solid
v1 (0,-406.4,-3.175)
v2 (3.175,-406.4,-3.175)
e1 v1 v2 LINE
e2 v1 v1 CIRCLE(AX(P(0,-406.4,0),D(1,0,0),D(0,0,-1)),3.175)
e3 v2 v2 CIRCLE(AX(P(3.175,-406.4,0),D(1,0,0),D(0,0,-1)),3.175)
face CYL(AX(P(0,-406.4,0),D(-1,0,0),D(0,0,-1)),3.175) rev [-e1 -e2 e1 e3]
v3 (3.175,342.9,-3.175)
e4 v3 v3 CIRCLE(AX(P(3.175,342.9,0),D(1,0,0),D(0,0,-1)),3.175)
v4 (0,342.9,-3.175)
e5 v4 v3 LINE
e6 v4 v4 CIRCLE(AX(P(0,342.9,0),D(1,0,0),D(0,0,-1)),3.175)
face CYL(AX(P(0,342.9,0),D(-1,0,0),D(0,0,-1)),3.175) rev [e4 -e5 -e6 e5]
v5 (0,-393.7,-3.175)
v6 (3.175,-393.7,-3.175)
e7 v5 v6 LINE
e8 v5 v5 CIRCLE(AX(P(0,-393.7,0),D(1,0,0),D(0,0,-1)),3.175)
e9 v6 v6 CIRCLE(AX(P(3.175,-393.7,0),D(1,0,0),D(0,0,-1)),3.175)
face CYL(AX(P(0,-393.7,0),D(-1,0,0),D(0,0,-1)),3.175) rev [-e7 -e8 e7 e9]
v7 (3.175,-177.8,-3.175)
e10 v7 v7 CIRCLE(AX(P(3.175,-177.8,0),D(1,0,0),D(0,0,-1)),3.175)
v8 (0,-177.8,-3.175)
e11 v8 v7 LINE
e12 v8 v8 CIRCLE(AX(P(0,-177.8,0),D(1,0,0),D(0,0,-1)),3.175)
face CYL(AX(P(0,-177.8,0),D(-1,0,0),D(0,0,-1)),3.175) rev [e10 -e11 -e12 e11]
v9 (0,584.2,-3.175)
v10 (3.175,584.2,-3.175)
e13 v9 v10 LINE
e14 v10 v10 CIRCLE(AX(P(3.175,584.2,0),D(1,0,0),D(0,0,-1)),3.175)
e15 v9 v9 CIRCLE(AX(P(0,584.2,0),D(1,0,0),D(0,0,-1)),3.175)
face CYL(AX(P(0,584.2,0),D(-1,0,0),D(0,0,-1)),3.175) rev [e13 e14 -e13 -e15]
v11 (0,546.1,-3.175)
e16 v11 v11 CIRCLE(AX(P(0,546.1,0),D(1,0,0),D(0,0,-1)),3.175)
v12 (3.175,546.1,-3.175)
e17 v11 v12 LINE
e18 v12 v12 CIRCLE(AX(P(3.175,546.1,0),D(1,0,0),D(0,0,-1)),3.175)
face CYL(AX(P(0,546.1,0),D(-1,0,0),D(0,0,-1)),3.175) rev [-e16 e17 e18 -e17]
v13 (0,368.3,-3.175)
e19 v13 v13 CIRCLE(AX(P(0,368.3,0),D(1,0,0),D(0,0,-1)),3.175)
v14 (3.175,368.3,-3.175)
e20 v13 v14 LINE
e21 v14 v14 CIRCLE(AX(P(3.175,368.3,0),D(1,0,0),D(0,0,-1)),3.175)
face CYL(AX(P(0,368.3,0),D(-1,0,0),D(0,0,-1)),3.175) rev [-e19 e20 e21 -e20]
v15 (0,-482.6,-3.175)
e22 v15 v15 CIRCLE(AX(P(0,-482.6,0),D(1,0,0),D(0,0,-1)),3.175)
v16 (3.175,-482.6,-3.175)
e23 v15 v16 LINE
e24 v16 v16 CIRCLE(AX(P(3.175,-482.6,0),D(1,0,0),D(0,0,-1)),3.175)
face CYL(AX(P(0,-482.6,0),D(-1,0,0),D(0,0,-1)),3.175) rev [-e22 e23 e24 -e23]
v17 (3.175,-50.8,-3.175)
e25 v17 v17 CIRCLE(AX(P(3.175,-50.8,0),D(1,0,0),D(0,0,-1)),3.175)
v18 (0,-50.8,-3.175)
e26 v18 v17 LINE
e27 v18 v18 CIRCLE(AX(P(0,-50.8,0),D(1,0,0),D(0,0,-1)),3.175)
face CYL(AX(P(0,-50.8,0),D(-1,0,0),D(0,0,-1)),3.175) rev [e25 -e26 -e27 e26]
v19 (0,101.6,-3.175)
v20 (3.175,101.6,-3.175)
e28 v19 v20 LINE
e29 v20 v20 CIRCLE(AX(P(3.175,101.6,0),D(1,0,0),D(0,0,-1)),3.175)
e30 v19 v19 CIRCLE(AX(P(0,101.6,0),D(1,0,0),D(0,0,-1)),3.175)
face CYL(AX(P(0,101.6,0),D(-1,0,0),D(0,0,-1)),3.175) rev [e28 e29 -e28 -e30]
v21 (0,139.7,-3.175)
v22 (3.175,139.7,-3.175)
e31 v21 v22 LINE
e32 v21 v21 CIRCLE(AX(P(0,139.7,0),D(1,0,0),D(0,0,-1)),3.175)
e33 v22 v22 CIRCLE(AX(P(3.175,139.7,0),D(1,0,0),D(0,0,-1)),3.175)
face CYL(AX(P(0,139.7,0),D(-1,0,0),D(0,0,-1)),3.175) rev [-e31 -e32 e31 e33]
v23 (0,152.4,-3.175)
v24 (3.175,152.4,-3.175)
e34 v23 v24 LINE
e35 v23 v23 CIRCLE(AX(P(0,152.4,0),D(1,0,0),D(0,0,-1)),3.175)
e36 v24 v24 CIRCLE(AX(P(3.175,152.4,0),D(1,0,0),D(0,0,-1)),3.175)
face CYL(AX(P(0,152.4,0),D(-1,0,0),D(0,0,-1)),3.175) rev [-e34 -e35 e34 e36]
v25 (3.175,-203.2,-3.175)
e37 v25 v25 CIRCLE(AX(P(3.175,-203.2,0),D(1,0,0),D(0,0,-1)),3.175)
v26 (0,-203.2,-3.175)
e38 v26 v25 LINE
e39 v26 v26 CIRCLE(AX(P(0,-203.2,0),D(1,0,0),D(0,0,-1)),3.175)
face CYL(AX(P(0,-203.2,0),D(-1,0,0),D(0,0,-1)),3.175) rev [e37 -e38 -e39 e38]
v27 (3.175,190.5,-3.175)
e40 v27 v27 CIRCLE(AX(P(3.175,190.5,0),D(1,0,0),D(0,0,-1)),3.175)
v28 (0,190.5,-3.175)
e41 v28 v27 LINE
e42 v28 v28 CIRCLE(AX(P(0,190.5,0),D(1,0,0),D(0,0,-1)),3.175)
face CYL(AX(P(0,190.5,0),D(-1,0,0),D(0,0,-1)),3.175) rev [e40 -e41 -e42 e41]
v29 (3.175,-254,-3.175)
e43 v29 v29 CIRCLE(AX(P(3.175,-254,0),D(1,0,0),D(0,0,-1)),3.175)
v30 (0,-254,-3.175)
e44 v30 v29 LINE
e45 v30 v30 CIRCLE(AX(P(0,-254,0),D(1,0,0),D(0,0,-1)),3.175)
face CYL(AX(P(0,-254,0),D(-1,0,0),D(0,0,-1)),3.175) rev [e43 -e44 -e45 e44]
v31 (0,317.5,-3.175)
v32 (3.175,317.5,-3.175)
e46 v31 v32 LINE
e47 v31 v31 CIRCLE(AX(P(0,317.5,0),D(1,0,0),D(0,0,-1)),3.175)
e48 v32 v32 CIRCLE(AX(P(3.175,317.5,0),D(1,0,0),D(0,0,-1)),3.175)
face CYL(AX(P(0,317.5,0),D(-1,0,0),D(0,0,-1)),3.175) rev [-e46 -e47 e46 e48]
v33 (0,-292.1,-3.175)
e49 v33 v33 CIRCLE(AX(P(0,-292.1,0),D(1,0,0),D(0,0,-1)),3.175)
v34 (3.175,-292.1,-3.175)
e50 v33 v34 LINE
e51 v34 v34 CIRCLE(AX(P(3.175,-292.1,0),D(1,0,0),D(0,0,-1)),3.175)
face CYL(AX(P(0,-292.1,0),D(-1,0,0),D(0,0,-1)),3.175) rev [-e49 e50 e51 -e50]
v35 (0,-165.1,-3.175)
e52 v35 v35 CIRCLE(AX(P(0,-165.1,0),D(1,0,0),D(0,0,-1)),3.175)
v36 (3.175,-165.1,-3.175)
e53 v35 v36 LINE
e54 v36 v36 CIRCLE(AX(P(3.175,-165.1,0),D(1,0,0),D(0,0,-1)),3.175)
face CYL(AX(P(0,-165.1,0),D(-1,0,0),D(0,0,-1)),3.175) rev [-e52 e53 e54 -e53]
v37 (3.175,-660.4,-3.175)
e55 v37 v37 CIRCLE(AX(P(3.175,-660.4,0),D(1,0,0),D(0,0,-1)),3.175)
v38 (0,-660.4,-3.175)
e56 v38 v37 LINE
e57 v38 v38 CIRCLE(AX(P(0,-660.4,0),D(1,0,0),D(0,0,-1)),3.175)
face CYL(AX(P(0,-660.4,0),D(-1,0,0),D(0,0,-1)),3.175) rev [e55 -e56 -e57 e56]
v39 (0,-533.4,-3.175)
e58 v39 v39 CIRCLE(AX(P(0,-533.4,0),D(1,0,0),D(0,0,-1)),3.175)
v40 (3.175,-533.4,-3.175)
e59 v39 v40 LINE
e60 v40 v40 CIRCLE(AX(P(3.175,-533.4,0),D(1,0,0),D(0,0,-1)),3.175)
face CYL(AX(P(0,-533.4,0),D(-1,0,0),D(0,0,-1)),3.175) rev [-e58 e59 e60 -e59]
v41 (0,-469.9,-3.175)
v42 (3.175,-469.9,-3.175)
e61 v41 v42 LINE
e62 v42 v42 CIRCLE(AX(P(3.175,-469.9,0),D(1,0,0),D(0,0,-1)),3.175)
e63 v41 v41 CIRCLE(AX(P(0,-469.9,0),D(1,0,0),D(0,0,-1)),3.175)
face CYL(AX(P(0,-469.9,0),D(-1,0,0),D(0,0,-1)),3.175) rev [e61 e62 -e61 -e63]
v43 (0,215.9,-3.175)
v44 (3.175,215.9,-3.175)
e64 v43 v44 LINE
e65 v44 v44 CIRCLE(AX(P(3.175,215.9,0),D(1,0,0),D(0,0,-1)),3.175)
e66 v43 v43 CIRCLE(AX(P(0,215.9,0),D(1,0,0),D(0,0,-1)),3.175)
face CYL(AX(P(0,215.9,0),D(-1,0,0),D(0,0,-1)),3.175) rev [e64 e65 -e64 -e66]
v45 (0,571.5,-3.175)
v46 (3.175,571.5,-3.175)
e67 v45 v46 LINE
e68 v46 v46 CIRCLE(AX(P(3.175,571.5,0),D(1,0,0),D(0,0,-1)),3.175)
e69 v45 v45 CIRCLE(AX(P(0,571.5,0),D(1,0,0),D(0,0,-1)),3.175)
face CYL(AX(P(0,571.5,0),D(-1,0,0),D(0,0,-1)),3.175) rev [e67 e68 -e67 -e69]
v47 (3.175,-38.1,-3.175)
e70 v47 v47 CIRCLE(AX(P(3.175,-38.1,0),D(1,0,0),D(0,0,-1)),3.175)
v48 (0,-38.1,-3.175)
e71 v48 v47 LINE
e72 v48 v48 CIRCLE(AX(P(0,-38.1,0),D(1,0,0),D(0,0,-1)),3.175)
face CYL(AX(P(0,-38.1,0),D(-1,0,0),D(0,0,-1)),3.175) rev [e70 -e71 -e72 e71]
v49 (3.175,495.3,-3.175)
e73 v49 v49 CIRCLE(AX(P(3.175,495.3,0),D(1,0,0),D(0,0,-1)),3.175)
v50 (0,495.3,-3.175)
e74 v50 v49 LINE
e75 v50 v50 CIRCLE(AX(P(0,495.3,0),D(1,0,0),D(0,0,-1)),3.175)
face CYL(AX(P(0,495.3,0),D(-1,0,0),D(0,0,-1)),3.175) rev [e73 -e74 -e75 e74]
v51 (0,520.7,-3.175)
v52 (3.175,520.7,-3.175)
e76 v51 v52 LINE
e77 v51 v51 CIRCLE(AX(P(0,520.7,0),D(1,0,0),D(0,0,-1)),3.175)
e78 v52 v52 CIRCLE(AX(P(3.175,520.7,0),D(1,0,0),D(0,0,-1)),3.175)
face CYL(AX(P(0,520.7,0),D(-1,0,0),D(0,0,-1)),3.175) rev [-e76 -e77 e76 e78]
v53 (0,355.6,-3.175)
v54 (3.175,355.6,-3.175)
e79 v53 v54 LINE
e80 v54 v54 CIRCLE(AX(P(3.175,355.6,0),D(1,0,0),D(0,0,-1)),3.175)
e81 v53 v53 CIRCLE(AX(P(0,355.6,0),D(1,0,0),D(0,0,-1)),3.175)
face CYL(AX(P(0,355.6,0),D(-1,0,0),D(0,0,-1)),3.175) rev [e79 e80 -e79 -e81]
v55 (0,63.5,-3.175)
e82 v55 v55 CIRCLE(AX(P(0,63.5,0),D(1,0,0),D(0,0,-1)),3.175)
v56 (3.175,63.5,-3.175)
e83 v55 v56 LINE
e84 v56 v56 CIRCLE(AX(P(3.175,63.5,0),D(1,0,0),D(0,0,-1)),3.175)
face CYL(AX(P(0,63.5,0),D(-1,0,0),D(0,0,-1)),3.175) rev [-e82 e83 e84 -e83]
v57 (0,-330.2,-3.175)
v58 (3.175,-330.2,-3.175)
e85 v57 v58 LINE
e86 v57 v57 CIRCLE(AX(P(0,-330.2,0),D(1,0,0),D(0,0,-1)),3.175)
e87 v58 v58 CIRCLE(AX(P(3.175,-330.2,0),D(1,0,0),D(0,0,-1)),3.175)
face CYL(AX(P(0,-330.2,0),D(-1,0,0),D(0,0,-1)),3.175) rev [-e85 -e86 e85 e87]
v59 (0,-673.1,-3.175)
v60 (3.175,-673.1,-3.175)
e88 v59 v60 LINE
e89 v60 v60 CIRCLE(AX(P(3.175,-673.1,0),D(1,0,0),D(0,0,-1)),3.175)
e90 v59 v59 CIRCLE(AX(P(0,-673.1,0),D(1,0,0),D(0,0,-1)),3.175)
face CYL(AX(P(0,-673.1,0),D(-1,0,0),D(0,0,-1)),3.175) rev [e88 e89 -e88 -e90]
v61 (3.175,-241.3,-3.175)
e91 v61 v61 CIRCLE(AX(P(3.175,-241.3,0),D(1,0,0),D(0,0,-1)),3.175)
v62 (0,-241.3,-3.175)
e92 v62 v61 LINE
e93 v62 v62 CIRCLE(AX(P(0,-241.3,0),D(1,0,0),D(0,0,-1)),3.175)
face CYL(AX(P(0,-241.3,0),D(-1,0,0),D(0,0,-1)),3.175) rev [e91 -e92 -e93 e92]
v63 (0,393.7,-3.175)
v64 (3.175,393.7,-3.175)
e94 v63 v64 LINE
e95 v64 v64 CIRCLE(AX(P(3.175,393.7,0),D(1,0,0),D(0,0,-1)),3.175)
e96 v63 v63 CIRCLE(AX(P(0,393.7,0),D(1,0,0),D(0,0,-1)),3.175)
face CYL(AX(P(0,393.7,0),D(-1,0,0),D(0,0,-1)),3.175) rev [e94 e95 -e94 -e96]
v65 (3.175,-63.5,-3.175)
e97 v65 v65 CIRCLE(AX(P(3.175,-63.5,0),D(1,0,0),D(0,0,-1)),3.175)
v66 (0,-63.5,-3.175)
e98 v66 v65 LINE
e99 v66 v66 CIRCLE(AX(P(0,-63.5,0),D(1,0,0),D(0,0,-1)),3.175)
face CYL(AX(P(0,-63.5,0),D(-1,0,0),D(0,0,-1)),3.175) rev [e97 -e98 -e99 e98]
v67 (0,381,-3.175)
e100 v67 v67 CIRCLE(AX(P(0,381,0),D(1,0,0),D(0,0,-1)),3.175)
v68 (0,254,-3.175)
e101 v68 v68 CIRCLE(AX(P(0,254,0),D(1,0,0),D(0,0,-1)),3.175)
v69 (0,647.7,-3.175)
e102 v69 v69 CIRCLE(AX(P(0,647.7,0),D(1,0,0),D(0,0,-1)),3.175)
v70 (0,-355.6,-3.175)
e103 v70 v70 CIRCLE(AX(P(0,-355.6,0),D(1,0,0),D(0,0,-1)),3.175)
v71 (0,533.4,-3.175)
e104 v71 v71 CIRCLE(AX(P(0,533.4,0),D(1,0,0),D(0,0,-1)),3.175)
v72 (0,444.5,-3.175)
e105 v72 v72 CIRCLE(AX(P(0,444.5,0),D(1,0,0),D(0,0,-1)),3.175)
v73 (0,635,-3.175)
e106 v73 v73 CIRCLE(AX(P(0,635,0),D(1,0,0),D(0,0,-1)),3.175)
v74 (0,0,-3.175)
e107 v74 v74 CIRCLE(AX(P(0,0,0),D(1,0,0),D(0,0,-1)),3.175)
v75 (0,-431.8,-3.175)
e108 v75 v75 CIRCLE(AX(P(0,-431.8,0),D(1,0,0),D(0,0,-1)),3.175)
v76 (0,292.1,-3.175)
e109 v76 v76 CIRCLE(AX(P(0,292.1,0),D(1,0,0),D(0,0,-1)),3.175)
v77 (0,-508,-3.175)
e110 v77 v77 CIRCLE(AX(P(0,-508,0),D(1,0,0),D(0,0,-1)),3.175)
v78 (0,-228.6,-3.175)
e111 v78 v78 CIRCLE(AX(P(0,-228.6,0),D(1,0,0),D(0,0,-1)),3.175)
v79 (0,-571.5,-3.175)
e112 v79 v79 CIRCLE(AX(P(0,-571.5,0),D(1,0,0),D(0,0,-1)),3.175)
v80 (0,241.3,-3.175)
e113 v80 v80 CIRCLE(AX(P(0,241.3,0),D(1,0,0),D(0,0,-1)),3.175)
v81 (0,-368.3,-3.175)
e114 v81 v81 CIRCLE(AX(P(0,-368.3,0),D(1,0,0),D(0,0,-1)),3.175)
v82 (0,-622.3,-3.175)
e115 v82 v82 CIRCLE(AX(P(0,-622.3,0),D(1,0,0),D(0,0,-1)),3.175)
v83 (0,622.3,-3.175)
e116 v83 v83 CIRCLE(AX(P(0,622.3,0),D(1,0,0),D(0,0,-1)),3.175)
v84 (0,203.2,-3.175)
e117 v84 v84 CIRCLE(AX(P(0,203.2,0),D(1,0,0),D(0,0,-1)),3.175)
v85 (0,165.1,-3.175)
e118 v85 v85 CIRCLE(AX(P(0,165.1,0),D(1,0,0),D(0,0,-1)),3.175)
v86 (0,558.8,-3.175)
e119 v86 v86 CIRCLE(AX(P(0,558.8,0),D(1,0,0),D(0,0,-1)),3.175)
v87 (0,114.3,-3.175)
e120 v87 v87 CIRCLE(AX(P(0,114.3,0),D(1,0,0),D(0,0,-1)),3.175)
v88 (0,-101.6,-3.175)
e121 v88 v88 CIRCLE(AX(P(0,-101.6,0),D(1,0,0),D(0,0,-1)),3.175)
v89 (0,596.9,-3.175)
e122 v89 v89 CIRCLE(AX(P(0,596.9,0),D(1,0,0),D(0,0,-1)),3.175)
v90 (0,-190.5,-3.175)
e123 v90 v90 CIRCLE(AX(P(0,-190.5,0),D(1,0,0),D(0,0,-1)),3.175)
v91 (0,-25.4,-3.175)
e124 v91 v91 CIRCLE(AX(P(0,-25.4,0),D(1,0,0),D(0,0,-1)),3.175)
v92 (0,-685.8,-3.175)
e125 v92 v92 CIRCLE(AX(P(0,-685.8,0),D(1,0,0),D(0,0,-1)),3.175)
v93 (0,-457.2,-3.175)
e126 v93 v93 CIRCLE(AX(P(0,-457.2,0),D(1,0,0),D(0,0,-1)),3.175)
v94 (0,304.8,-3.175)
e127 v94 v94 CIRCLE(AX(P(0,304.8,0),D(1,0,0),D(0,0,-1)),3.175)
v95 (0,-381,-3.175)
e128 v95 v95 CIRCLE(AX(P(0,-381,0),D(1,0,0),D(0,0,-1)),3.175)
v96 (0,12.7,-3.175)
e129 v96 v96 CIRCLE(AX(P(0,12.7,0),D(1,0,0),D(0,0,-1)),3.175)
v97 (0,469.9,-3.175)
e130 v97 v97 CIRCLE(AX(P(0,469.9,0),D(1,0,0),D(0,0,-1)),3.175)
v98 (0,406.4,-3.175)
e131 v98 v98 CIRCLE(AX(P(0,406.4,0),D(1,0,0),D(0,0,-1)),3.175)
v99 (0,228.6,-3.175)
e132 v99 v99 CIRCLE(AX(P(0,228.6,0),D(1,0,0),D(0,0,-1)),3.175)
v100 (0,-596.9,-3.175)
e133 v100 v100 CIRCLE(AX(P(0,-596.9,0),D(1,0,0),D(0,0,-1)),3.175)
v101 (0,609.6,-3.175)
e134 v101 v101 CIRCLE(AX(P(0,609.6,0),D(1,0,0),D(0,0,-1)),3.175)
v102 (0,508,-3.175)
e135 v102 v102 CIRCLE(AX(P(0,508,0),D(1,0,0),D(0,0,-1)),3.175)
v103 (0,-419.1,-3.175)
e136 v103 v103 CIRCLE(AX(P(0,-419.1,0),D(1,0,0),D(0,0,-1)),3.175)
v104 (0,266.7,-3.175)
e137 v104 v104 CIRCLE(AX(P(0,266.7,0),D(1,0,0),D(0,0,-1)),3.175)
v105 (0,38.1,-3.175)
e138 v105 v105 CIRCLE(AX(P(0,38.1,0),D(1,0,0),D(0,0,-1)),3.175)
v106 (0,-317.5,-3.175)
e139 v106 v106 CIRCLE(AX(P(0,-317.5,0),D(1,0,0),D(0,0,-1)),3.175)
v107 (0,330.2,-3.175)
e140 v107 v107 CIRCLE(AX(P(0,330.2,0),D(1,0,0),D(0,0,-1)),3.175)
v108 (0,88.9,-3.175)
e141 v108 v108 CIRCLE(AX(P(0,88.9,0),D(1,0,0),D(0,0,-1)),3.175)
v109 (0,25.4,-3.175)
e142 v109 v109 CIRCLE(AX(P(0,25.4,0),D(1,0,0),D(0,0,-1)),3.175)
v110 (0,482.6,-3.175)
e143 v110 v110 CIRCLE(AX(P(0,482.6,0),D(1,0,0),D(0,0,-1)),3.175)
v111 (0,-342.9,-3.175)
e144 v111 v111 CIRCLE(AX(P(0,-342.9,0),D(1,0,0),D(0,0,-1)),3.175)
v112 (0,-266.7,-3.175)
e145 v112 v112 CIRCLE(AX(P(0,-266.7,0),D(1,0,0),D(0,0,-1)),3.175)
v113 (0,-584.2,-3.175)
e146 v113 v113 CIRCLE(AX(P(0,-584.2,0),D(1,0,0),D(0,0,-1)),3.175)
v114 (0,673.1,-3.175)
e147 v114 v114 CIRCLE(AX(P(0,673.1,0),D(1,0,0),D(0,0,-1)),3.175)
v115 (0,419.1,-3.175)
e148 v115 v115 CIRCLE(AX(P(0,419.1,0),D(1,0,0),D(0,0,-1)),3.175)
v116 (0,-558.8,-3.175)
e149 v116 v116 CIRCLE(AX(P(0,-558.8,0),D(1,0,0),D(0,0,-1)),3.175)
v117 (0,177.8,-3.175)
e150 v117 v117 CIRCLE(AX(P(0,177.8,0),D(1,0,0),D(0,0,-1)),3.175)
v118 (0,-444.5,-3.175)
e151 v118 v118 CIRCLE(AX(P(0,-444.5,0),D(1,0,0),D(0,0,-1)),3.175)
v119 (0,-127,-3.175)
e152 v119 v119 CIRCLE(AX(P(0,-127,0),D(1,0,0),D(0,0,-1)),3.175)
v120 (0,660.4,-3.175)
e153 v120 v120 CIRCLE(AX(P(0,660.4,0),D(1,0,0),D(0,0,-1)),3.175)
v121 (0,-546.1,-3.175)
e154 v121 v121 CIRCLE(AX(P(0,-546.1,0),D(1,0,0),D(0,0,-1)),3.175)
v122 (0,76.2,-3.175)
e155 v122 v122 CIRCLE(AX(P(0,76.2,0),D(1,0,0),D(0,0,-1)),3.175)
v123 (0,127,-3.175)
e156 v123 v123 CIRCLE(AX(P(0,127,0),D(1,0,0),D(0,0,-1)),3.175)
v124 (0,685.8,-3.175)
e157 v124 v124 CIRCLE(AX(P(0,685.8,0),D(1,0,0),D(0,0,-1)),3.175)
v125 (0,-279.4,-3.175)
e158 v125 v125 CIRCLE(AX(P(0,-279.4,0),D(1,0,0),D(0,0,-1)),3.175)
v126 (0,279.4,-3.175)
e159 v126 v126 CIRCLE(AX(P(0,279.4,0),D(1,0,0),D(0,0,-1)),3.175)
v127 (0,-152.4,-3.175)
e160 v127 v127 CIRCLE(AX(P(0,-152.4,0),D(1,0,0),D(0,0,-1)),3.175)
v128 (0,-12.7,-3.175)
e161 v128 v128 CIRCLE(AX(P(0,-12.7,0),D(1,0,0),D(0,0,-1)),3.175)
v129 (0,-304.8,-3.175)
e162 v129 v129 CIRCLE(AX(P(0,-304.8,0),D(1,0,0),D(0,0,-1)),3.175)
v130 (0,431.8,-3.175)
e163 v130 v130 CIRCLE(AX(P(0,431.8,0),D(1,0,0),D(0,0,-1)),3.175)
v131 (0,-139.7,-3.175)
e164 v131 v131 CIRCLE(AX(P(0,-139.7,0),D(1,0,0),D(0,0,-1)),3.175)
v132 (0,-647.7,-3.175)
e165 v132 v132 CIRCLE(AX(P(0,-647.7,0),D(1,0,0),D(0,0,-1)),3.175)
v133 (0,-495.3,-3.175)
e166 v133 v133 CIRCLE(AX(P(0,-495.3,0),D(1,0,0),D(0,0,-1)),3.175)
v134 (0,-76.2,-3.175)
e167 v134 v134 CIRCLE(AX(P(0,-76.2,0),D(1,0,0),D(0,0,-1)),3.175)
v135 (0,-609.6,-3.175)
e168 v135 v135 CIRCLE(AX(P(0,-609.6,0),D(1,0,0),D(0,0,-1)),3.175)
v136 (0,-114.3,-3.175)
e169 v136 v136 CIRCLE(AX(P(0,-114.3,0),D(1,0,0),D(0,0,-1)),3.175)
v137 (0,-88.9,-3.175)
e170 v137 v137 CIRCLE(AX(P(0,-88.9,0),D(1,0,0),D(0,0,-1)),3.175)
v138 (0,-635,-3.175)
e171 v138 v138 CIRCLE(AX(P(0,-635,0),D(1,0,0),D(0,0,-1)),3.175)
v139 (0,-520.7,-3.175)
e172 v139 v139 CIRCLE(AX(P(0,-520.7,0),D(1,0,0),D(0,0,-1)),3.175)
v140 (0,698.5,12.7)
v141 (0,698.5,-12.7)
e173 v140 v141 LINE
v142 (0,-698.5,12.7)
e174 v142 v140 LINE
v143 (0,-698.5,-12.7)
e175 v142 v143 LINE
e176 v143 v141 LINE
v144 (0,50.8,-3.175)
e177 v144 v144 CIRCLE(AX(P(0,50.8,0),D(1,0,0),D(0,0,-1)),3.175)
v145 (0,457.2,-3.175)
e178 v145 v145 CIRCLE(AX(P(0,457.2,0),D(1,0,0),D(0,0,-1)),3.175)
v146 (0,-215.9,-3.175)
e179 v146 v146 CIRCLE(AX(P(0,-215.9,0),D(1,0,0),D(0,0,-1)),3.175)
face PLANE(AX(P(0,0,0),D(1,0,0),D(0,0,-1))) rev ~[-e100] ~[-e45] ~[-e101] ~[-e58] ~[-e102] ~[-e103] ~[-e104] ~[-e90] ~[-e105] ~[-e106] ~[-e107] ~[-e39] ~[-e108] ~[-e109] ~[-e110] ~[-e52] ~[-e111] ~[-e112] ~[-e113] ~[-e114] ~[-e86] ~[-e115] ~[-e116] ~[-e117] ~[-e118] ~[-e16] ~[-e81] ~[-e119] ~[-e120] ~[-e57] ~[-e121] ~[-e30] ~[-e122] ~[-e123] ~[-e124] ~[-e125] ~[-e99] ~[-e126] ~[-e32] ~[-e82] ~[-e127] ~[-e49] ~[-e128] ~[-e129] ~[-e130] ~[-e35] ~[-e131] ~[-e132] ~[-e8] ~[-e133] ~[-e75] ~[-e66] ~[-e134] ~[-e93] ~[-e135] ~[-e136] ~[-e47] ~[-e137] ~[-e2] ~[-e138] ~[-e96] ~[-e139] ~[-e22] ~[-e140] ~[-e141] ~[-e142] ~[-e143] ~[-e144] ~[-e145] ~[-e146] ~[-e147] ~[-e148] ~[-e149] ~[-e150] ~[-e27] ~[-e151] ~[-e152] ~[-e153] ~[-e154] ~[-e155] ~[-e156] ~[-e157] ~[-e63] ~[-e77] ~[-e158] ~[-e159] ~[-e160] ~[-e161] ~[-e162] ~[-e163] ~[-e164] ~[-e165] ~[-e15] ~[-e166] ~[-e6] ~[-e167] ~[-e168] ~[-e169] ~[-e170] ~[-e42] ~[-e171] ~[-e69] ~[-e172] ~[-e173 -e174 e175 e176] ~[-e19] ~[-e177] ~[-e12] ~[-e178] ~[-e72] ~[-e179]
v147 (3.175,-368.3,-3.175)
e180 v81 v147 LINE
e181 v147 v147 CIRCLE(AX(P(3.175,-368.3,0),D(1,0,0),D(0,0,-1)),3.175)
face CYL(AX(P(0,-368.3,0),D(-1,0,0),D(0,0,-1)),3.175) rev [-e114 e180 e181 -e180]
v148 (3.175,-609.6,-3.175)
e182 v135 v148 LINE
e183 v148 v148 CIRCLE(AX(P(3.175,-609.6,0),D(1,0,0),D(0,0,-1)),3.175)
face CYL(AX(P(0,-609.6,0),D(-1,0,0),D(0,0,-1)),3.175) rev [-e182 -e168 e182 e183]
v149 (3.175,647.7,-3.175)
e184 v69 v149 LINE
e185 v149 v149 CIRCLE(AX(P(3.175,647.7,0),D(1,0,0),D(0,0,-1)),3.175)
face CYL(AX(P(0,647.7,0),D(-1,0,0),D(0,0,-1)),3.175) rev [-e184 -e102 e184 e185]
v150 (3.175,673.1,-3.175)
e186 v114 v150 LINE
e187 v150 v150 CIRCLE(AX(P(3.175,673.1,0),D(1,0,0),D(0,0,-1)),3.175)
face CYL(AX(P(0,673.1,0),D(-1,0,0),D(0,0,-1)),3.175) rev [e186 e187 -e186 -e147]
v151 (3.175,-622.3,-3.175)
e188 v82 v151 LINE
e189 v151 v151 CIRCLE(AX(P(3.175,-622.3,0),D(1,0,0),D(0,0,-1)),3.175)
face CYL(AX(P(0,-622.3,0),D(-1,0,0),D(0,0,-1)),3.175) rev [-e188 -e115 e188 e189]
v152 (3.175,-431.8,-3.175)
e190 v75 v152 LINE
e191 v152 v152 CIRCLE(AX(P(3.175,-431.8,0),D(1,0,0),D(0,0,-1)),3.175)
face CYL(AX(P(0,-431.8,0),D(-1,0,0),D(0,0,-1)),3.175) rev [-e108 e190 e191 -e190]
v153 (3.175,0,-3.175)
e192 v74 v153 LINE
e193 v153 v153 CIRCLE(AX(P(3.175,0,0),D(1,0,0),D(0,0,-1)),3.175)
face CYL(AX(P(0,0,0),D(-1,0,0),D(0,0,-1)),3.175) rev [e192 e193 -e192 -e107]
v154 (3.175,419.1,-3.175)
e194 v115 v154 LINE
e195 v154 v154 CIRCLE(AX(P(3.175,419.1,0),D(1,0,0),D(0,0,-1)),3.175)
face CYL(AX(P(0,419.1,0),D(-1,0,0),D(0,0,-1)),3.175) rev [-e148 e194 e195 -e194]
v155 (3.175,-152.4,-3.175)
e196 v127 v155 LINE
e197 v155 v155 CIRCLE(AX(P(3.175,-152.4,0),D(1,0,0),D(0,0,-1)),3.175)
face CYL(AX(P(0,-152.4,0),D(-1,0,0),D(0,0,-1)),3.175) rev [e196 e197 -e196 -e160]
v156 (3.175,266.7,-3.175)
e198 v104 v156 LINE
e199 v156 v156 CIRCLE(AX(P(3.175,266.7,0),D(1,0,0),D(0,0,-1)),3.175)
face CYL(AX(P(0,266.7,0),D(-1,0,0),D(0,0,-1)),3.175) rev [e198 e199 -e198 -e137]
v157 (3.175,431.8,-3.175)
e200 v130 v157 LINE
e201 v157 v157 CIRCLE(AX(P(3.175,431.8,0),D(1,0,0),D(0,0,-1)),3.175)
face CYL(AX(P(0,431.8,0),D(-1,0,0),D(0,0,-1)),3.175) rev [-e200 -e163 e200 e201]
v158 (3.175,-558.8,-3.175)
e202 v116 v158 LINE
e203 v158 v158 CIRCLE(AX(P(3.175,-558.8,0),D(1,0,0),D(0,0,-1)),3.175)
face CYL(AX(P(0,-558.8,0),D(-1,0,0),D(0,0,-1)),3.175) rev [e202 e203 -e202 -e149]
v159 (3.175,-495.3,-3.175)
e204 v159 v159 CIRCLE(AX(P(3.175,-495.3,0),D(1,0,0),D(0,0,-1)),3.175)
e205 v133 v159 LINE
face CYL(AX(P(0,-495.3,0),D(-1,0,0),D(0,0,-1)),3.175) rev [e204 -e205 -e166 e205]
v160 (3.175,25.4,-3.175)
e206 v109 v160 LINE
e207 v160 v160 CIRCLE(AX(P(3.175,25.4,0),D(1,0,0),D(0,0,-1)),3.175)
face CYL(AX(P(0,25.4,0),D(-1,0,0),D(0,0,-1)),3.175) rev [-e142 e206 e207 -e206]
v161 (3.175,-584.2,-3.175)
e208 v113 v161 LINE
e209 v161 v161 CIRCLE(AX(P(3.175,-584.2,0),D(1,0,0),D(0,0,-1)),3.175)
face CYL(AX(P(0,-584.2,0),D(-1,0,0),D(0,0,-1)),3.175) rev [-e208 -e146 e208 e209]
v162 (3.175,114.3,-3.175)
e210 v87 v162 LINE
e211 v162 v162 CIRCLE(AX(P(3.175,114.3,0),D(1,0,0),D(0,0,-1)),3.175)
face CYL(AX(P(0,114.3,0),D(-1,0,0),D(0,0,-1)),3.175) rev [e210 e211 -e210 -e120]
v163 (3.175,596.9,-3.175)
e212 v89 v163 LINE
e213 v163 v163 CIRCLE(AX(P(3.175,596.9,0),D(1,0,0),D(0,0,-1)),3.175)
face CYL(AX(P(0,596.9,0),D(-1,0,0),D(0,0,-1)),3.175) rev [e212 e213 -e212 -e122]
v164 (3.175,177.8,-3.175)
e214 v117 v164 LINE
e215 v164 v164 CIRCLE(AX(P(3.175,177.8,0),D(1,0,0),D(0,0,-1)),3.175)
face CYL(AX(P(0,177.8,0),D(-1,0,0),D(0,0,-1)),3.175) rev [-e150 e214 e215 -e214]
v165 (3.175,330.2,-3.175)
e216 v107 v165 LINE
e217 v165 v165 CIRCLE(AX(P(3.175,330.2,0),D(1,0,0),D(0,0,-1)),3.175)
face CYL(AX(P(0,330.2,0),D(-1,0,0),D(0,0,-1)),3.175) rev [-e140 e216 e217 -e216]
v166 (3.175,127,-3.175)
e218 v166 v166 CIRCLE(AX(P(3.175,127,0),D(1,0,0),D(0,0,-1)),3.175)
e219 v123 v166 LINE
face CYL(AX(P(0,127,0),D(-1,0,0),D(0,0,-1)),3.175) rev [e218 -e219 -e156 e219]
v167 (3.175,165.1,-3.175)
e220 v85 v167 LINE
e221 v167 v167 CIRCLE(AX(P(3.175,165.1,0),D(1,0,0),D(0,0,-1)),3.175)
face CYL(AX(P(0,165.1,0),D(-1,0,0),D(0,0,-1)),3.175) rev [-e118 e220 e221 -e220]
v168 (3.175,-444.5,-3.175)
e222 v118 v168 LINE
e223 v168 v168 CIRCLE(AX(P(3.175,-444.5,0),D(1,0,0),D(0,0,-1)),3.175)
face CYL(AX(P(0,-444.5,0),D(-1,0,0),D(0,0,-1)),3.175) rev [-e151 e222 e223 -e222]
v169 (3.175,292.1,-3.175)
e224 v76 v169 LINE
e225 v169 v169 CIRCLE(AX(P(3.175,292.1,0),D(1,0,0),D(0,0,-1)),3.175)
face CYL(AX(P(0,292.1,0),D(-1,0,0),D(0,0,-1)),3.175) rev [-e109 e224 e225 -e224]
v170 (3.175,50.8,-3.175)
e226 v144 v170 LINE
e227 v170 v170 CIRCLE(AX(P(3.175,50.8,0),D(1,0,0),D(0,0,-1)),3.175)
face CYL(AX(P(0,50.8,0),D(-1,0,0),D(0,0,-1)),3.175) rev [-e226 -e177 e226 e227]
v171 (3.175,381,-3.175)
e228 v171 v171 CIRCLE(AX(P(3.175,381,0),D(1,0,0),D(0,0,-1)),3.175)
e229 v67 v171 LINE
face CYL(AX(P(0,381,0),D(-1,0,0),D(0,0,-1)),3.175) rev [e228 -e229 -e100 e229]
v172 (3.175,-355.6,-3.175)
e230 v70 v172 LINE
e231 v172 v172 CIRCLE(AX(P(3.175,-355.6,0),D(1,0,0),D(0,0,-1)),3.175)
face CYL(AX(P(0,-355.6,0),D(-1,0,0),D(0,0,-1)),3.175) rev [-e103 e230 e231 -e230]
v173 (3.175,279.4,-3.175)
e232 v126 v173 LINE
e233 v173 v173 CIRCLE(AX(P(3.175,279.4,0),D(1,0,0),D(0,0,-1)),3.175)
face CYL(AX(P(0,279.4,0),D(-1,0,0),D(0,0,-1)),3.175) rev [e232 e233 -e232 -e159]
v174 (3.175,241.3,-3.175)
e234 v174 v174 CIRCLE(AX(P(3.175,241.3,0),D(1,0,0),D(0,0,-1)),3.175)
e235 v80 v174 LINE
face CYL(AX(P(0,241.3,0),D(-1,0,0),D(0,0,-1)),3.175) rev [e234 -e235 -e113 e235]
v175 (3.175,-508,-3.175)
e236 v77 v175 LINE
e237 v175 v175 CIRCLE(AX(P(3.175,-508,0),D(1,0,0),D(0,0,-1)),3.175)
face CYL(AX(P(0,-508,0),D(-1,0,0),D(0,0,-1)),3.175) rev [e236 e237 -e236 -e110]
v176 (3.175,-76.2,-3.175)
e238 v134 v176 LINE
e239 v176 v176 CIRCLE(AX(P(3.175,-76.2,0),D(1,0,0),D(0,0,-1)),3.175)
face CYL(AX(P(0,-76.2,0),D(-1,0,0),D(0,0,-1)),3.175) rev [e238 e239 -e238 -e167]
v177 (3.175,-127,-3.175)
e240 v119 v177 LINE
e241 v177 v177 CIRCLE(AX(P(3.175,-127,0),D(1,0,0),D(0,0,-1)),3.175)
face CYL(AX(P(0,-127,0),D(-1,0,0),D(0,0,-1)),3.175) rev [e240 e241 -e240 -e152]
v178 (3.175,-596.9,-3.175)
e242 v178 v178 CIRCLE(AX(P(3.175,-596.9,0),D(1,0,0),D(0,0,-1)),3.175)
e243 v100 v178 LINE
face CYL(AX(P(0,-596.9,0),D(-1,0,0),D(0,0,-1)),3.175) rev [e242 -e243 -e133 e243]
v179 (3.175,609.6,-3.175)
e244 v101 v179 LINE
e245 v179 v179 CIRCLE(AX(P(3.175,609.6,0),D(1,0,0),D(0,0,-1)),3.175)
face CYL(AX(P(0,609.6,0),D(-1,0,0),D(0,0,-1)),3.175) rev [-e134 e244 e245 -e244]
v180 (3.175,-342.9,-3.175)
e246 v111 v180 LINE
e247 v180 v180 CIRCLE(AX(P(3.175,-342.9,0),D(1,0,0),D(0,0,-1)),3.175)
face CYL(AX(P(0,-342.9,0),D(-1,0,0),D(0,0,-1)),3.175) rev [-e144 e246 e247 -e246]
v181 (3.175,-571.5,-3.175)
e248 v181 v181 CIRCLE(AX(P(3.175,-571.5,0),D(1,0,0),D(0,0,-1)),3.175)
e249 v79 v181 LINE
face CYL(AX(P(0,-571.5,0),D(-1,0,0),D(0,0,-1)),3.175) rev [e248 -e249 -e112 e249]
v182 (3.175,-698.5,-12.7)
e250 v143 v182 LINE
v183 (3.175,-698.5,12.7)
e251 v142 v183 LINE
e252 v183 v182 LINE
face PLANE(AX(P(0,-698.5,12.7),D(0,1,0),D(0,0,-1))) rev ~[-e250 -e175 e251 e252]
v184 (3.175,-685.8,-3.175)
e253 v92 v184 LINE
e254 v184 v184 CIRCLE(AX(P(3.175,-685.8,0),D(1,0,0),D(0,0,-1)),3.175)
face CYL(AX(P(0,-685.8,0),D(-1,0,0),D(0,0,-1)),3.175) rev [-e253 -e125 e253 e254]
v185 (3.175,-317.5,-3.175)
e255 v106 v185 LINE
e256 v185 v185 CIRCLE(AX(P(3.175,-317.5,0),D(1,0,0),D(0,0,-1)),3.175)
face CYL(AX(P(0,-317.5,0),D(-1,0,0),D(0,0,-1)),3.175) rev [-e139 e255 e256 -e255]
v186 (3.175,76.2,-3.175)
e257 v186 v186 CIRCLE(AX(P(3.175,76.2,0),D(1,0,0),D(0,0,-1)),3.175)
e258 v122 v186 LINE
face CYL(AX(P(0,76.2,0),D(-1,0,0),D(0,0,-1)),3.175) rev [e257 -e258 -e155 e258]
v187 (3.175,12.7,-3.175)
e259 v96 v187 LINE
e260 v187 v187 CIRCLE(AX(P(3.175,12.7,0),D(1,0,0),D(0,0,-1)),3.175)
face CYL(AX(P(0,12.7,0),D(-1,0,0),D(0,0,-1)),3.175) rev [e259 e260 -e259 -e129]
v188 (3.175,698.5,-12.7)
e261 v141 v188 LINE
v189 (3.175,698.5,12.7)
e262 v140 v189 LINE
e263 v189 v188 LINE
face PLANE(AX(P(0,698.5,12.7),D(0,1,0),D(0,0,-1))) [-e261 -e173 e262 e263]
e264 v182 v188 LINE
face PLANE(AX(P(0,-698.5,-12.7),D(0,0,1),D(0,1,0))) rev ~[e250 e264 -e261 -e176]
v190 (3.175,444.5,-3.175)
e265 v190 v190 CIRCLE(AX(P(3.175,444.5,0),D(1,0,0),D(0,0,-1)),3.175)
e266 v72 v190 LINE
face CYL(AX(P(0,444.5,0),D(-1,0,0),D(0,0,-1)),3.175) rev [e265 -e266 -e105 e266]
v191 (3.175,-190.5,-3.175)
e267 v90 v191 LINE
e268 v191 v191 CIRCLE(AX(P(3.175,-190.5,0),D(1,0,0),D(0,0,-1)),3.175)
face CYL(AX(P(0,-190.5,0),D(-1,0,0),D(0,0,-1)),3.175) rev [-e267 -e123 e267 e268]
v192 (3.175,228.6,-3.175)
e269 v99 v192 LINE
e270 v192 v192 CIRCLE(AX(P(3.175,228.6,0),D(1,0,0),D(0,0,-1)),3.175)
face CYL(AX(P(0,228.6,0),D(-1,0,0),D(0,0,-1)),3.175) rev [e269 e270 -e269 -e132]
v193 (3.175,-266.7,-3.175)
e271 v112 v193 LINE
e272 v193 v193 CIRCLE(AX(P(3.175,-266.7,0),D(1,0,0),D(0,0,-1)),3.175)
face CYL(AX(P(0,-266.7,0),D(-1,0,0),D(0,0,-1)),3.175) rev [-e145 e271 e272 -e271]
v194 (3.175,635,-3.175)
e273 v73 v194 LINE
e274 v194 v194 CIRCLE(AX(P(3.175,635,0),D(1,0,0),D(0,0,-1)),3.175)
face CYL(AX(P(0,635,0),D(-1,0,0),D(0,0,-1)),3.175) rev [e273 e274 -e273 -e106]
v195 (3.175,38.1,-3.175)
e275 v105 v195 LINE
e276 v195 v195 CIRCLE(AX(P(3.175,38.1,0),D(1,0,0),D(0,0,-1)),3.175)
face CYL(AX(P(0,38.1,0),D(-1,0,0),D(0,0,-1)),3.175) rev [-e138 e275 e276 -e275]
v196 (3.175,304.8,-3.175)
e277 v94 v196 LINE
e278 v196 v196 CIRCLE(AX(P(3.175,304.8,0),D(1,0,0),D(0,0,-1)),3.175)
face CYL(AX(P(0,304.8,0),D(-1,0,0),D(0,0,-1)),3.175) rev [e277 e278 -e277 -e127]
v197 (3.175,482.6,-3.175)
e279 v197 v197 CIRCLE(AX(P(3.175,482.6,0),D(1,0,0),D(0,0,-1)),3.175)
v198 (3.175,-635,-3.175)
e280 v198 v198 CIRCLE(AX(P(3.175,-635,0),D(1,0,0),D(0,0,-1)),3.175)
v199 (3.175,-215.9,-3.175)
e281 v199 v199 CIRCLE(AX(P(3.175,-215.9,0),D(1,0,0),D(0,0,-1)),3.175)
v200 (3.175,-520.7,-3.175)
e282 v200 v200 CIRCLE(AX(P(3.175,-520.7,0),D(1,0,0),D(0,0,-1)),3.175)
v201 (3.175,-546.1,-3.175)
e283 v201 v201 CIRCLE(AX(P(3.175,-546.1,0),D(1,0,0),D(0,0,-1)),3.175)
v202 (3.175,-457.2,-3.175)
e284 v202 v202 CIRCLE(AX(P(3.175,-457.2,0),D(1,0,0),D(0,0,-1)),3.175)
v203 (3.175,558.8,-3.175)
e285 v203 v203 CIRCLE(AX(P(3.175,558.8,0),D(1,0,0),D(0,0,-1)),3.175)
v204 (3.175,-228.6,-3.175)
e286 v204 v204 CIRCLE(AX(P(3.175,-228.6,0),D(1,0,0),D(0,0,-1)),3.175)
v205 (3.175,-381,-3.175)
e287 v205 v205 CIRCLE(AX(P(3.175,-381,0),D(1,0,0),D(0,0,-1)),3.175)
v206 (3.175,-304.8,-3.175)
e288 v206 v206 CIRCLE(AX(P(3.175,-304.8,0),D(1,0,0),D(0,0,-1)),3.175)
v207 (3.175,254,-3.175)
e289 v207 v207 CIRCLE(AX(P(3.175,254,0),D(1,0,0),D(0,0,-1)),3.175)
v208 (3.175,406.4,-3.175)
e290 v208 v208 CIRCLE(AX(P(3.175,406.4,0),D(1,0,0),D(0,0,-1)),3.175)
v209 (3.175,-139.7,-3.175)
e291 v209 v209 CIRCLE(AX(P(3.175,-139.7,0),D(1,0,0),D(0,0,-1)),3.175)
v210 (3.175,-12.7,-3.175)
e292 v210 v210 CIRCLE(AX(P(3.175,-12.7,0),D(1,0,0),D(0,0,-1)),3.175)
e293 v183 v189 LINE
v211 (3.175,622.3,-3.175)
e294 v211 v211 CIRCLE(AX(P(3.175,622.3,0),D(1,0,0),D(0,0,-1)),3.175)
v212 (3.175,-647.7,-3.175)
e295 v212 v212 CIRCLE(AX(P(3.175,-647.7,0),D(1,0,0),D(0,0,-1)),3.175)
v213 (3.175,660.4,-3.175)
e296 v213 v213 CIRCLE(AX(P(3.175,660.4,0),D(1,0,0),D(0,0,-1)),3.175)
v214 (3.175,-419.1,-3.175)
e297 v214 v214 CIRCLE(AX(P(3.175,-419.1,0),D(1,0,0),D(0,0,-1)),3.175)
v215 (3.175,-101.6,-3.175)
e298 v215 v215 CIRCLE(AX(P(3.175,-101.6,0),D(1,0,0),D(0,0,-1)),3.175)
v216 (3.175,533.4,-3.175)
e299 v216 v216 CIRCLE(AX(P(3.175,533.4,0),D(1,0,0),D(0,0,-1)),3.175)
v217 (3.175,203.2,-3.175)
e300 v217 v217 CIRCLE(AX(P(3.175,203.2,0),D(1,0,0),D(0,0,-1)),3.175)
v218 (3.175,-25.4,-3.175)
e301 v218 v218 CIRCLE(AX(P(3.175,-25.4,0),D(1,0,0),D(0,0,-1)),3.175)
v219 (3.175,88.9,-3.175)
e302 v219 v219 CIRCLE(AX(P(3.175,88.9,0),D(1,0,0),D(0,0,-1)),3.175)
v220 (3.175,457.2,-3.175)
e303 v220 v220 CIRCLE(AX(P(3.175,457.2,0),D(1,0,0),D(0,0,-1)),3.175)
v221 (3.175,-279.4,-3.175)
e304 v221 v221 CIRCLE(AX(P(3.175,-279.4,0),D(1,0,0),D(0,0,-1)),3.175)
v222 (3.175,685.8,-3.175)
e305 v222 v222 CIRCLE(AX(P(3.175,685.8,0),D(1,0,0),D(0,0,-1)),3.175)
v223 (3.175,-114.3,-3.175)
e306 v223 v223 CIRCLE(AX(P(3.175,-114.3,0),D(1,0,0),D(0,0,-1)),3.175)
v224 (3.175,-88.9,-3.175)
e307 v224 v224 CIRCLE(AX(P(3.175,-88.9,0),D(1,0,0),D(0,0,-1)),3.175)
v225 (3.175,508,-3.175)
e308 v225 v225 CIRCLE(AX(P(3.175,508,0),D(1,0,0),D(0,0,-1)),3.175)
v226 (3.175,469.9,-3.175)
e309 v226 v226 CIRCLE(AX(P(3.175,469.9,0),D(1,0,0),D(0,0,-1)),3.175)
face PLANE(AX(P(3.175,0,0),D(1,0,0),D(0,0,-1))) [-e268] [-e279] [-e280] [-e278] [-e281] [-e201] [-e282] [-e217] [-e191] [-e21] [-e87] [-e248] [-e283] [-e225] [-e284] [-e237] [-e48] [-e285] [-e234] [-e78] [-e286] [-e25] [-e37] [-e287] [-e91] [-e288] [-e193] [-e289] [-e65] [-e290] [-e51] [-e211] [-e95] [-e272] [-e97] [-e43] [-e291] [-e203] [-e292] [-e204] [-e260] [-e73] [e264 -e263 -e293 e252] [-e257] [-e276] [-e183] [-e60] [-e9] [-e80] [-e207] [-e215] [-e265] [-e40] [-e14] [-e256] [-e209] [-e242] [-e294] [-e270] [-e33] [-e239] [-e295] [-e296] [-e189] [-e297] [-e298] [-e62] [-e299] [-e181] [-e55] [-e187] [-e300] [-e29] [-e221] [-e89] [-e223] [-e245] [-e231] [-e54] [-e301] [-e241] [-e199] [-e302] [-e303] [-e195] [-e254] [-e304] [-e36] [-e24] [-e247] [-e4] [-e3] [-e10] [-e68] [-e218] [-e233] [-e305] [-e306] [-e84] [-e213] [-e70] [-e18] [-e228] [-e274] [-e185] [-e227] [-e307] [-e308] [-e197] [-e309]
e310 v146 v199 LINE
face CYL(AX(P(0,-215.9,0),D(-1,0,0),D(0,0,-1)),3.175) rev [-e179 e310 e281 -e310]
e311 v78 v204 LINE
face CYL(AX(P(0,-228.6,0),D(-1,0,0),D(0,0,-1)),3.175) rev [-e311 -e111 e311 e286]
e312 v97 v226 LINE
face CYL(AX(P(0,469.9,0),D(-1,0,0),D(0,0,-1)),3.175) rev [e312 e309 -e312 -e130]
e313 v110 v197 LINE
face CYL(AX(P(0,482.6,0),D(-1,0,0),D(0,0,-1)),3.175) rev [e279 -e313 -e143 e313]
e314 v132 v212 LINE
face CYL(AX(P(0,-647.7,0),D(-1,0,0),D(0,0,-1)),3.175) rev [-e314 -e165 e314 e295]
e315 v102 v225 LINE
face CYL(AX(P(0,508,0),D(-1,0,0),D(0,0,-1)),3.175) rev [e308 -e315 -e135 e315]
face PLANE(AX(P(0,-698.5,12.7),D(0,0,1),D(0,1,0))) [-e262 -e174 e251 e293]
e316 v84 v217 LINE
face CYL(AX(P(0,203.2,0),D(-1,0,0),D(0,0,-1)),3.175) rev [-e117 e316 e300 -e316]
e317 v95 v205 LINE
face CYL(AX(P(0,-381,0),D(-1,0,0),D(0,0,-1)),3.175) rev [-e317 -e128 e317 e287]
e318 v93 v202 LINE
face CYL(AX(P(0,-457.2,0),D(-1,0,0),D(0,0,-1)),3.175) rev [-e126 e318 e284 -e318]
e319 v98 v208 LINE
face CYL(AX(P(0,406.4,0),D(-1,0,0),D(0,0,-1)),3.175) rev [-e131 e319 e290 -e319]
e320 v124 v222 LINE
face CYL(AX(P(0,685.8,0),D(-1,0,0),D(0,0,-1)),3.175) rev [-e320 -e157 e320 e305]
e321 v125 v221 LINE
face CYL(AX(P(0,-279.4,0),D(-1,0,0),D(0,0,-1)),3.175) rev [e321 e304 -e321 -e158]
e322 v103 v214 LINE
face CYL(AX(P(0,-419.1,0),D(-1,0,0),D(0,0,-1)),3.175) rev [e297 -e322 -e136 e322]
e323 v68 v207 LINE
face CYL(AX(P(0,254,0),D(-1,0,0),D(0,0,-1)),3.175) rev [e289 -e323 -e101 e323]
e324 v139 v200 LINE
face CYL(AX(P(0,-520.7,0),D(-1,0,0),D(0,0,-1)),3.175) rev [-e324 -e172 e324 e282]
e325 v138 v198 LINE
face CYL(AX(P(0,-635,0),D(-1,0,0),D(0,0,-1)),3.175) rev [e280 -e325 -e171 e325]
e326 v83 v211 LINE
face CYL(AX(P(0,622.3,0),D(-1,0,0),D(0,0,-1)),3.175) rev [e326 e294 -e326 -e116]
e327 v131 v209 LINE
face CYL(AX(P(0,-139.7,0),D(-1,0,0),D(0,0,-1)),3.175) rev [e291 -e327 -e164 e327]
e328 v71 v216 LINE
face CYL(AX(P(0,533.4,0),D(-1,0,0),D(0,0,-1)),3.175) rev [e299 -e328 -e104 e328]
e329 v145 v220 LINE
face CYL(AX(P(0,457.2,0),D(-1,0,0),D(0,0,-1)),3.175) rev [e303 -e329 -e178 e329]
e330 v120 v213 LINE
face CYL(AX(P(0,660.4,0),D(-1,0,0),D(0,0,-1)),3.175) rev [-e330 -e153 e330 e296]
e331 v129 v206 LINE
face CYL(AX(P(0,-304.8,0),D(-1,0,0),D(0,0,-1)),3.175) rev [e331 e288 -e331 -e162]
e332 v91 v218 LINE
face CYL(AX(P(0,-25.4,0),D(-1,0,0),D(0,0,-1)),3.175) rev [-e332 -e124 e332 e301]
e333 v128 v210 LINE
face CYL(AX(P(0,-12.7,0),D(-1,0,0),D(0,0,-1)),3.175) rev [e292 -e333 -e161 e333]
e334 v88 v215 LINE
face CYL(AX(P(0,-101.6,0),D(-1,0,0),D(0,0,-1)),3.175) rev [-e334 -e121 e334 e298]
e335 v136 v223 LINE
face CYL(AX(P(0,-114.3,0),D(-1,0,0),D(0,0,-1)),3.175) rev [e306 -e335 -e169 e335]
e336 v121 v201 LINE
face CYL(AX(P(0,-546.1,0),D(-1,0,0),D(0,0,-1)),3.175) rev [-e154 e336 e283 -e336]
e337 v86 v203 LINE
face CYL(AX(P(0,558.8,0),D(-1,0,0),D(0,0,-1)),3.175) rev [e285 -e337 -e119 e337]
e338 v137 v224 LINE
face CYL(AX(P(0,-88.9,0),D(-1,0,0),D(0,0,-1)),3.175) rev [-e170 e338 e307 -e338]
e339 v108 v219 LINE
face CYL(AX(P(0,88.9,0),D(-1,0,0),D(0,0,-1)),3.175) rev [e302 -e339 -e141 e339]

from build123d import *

# Parameters (mm, degrees)
SKETCH1_W           = 25.4
SKETCH1_H           = 1397
SKETCH1_R           = 3.175
BOSS_EXTRUDE1_DEPTH = 3.175


with BuildPart() as part:
    # Sketch1 → Boss-Extrude1 (new body)
    with BuildSketch(Plane(origin=(0, 0, 0), x_dir=(0, 0, -1), z_dir=(1, 0, 0))):
        Rectangle(SKETCH1_W, SKETCH1_H)
        with Locations((0, -685.8)):
            Circle(SKETCH1_R, mode=Mode.SUBTRACT)
        with Locations((0, -673.1)):
            Circle(SKETCH1_R, mode=Mode.SUBTRACT)
        with Locations((0, -660.4)):
            Circle(SKETCH1_R, mode=Mode.SUBTRACT)
        with Locations((0, -647.7)):
            Circle(SKETCH1_R, mode=Mode.SUBTRACT)
        with Locations((0, -635)):
            Circle(SKETCH1_R, mode=Mode.SUBTRACT)
        with Locations((0, -622.3)):
            Circle(SKETCH1_R, mode=Mode.SUBTRACT)
        with Locations((0, -609.6)):
            Circle(SKETCH1_R, mode=Mode.SUBTRACT)
        with Locations((0, -596.9)):
            Circle(SKETCH1_R, mode=Mode.SUBTRACT)
        with Locations((0, -584.2)):
            Circle(SKETCH1_R, mode=Mode.SUBTRACT)
        with Locations((0, -571.5)):
            Circle(SKETCH1_R, mode=Mode.SUBTRACT)
        with Locations((0, -558.8)):
            Circle(SKETCH1_R, mode=Mode.SUBTRACT)
        with Locations((0, -546.1)):
            Circle(SKETCH1_R, mode=Mode.SUBTRACT)
        with Locations((0, -533.4)):
            Circle(SKETCH1_R, mode=Mode.SUBTRACT)
        with Locations((0, -520.7)):
            Circle(SKETCH1_R, mode=Mode.SUBTRACT)
        with Locations((0, -508)):
            Circle(SKETCH1_R, mode=Mode.SUBTRACT)
        with Locations((0, -495.3)):
            Circle(SKETCH1_R, mode=Mode.SUBTRACT)
        with Locations((0, -482.6)):
            Circle(SKETCH1_R, mode=Mode.SUBTRACT)
        with Locations((0, -469.9)):
            Circle(SKETCH1_R, mode=Mode.SUBTRACT)
        with Locations((0, -457.2)):
            Circle(SKETCH1_R, mode=Mode.SUBTRACT)
        with Locations((0, -444.5)):
            Circle(SKETCH1_R, mode=Mode.SUBTRACT)
        with Locations((0, -431.8)):
            Circle(SKETCH1_R, mode=Mode.SUBTRACT)
        with Locations((0, -419.1)):
            Circle(SKETCH1_R, mode=Mode.SUBTRACT)
        with Locations((0, -406.4)):
            Circle(SKETCH1_R, mode=Mode.SUBTRACT)
        with Locations((0, -393.7)):
            Circle(SKETCH1_R, mode=Mode.SUBTRACT)
        with Locations((0, -381)):
            Circle(SKETCH1_R, mode=Mode.SUBTRACT)
        with Locations((0, -368.3)):
            Circle(SKETCH1_R, mode=Mode.SUBTRACT)
        with Locations((0, -355.6)):
            Circle(SKETCH1_R, mode=Mode.SUBTRACT)
        with Locations((0, -342.9)):
            Circle(SKETCH1_R, mode=Mode.SUBTRACT)
        with Locations((0, -330.2)):
            Circle(SKETCH1_R, mode=Mode.SUBTRACT)
        with Locations((0, -317.5)):
            Circle(SKETCH1_R, mode=Mode.SUBTRACT)
        with Locations((0, -304.8)):
            Circle(SKETCH1_R, mode=Mode.SUBTRACT)
        with Locations((0, -292.1)):
            Circle(SKETCH1_R, mode=Mode.SUBTRACT)
        with Locations((0, -279.4)):
            Circle(SKETCH1_R, mode=Mode.SUBTRACT)
        with Locations((0, -266.7)):
            Circle(SKETCH1_R, mode=Mode.SUBTRACT)
        with Locations((0, -254)):
            Circle(SKETCH1_R, mode=Mode.SUBTRACT)
        with Locations((0, -241.3)):
            Circle(SKETCH1_R, mode=Mode.SUBTRACT)
        with Locations((0, -228.6)):
            Circle(SKETCH1_R, mode=Mode.SUBTRACT)
        with Locations((0, -215.9)):
            Circle(SKETCH1_R, mode=Mode.SUBTRACT)
        with Locations((0, -203.2)):
            Circle(SKETCH1_R, mode=Mode.SUBTRACT)
        with Locations((0, -190.5)):
            Circle(SKETCH1_R, mode=Mode.SUBTRACT)
        with Locations((0, -177.8)):
            Circle(SKETCH1_R, mode=Mode.SUBTRACT)
        with Locations((0, -165.1)):
            Circle(SKETCH1_R, mode=Mode.SUBTRACT)
        with Locations((0, -152.4)):
            Circle(SKETCH1_R, mode=Mode.SUBTRACT)
        with Locations((0, -139.7)):
            Circle(SKETCH1_R, mode=Mode.SUBTRACT)
        with Locations((0, -127)):
            Circle(SKETCH1_R, mode=Mode.SUBTRACT)
        with Locations((0, -114.3)):
            Circle(SKETCH1_R, mode=Mode.SUBTRACT)
        with Locations((0, -101.6)):
            Circle(SKETCH1_R, mode=Mode.SUBTRACT)
        with Locations((0, -88.9)):
            Circle(SKETCH1_R, mode=Mode.SUBTRACT)
        with Locations((0, -76.2)):
            Circle(SKETCH1_R, mode=Mode.SUBTRACT)
        with Locations((0, -63.5)):
            Circle(SKETCH1_R, mode=Mode.SUBTRACT)
        with Locations((0, -50.8)):
            Circle(SKETCH1_R, mode=Mode.SUBTRACT)
        with Locations((0, -38.1)):
            Circle(SKETCH1_R, mode=Mode.SUBTRACT)
        with Locations((0, -25.4)):
            Circle(SKETCH1_R, mode=Mode.SUBTRACT)
        with Locations((0, -12.7)):
            Circle(SKETCH1_R, mode=Mode.SUBTRACT)
        Circle(SKETCH1_R, mode=Mode.SUBTRACT)
        with Locations((0, 12.7)):
            Circle(SKETCH1_R, mode=Mode.SUBTRACT)
        with Locations((0, 25.4)):
            Circle(SKETCH1_R, mode=Mode.SUBTRACT)
        with Locations((0, 38.1)):
            Circle(SKETCH1_R, mode=Mode.SUBTRACT)
        with Locations((0, 50.8)):
            Circle(SKETCH1_R, mode=Mode.SUBTRACT)
        with Locations((0, 63.5)):
            Circle(SKETCH1_R, mode=Mode.SUBTRACT)
        with Locations((0, 76.2)):
            Circle(SKETCH1_R, mode=Mode.SUBTRACT)
        with Locations((0, 88.9)):
            Circle(SKETCH1_R, mode=Mode.SUBTRACT)
        with Locations((0, 101.6)):
            Circle(SKETCH1_R, mode=Mode.SUBTRACT)
        with Locations((0, 114.3)):
            Circle(SKETCH1_R, mode=Mode.SUBTRACT)
        with Locations((0, 127)):
            Circle(SKETCH1_R, mode=Mode.SUBTRACT)
        with Locations((0, 139.7)):
            Circle(SKETCH1_R, mode=Mode.SUBTRACT)
        with Locations((0, 152.4)):
            Circle(SKETCH1_R, mode=Mode.SUBTRACT)
        with Locations((0, 165.1)):
            Circle(SKETCH1_R, mode=Mode.SUBTRACT)
        with Locations((0, 177.8)):
            Circle(SKETCH1_R, mode=Mode.SUBTRACT)
        with Locations((0, 190.5)):
            Circle(SKETCH1_R, mode=Mode.SUBTRACT)
        with Locations((0, 203.2)):
            Circle(SKETCH1_R, mode=Mode.SUBTRACT)
        with Locations((0, 215.9)):
            Circle(SKETCH1_R, mode=Mode.SUBTRACT)
        with Locations((0, 228.6)):
            Circle(SKETCH1_R, mode=Mode.SUBTRACT)
        with Locations((0, 241.3)):
            Circle(SKETCH1_R, mode=Mode.SUBTRACT)
        with Locations((0, 254)):
            Circle(SKETCH1_R, mode=Mode.SUBTRACT)
        with Locations((0, 266.7)):
            Circle(SKETCH1_R, mode=Mode.SUBTRACT)
        with Locations((0, 279.4)):
            Circle(SKETCH1_R, mode=Mode.SUBTRACT)
        with Locations((0, 292.1)):
            Circle(SKETCH1_R, mode=Mode.SUBTRACT)
        with Locations((0, 304.8)):
            Circle(SKETCH1_R, mode=Mode.SUBTRACT)
        with Locations((0, 317.5)):
            Circle(SKETCH1_R, mode=Mode.SUBTRACT)
        with Locations((0, 330.2)):
            Circle(SKETCH1_R, mode=Mode.SUBTRACT)
        with Locations((0, 342.9)):
            Circle(SKETCH1_R, mode=Mode.SUBTRACT)
        with Locations((0, 355.6)):
            Circle(SKETCH1_R, mode=Mode.SUBTRACT)
        with Locations((0, 368.3)):
            Circle(SKETCH1_R, mode=Mode.SUBTRACT)
        with Locations((0, 381)):
            Circle(SKETCH1_R, mode=Mode.SUBTRACT)
        with Locations((0, 393.7)):
            Circle(SKETCH1_R, mode=Mode.SUBTRACT)
        with Locations((0, 406.4)):
            Circle(SKETCH1_R, mode=Mode.SUBTRACT)
        with Locations((0, 419.1)):
            Circle(SKETCH1_R, mode=Mode.SUBTRACT)
        with Locations((0, 431.8)):
            Circle(SKETCH1_R, mode=Mode.SUBTRACT)
        with Locations((0, 444.5)):
            Circle(SKETCH1_R, mode=Mode.SUBTRACT)
        with Locations((0, 457.2)):
            Circle(SKETCH1_R, mode=Mode.SUBTRACT)
        with Locations((0, 469.9)):
            Circle(SKETCH1_R, mode=Mode.SUBTRACT)
        with Locations((0, 482.6)):
            Circle(SKETCH1_R, mode=Mode.SUBTRACT)
        with Locations((0, 495.3)):
            Circle(SKETCH1_R, mode=Mode.SUBTRACT)
        with Locations((0, 508)):
            Circle(SKETCH1_R, mode=Mode.SUBTRACT)
        with Locations((0, 520.7)):
            Circle(SKETCH1_R, mode=Mode.SUBTRACT)
        with Locations((0, 533.4)):
            Circle(SKETCH1_R, mode=Mode.SUBTRACT)
        with Locations((0, 546.1)):
            Circle(SKETCH1_R, mode=Mode.SUBTRACT)
        with Locations((0, 558.8)):
            Circle(SKETCH1_R, mode=Mode.SUBTRACT)
        with Locations((0, 571.5)):
            Circle(SKETCH1_R, mode=Mode.SUBTRACT)
        with Locations((0, 584.2)):
            Circle(SKETCH1_R, mode=Mode.SUBTRACT)
        with Locations((0, 596.9)):
            Circle(SKETCH1_R, mode=Mode.SUBTRACT)
        with Locations((0, 609.6)):
            Circle(SKETCH1_R, mode=Mode.SUBTRACT)
        with Locations((0, 622.3)):
            Circle(SKETCH1_R, mode=Mode.SUBTRACT)
        with Locations((0, 635)):
            Circle(SKETCH1_R, mode=Mode.SUBTRACT)
        with Locations((0, 647.7)):
            Circle(SKETCH1_R, mode=Mode.SUBTRACT)
        with Locations((0, 660.4)):
            Circle(SKETCH1_R, mode=Mode.SUBTRACT)
        with Locations((0, 673.1)):
            Circle(SKETCH1_R, mode=Mode.SUBTRACT)
        with Locations((0, 685.8)):
            Circle(SKETCH1_R, mode=Mode.SUBTRACT)
    extrude(amount=BOSS_EXTRUDE1_DEPTH)


solid = part.part
